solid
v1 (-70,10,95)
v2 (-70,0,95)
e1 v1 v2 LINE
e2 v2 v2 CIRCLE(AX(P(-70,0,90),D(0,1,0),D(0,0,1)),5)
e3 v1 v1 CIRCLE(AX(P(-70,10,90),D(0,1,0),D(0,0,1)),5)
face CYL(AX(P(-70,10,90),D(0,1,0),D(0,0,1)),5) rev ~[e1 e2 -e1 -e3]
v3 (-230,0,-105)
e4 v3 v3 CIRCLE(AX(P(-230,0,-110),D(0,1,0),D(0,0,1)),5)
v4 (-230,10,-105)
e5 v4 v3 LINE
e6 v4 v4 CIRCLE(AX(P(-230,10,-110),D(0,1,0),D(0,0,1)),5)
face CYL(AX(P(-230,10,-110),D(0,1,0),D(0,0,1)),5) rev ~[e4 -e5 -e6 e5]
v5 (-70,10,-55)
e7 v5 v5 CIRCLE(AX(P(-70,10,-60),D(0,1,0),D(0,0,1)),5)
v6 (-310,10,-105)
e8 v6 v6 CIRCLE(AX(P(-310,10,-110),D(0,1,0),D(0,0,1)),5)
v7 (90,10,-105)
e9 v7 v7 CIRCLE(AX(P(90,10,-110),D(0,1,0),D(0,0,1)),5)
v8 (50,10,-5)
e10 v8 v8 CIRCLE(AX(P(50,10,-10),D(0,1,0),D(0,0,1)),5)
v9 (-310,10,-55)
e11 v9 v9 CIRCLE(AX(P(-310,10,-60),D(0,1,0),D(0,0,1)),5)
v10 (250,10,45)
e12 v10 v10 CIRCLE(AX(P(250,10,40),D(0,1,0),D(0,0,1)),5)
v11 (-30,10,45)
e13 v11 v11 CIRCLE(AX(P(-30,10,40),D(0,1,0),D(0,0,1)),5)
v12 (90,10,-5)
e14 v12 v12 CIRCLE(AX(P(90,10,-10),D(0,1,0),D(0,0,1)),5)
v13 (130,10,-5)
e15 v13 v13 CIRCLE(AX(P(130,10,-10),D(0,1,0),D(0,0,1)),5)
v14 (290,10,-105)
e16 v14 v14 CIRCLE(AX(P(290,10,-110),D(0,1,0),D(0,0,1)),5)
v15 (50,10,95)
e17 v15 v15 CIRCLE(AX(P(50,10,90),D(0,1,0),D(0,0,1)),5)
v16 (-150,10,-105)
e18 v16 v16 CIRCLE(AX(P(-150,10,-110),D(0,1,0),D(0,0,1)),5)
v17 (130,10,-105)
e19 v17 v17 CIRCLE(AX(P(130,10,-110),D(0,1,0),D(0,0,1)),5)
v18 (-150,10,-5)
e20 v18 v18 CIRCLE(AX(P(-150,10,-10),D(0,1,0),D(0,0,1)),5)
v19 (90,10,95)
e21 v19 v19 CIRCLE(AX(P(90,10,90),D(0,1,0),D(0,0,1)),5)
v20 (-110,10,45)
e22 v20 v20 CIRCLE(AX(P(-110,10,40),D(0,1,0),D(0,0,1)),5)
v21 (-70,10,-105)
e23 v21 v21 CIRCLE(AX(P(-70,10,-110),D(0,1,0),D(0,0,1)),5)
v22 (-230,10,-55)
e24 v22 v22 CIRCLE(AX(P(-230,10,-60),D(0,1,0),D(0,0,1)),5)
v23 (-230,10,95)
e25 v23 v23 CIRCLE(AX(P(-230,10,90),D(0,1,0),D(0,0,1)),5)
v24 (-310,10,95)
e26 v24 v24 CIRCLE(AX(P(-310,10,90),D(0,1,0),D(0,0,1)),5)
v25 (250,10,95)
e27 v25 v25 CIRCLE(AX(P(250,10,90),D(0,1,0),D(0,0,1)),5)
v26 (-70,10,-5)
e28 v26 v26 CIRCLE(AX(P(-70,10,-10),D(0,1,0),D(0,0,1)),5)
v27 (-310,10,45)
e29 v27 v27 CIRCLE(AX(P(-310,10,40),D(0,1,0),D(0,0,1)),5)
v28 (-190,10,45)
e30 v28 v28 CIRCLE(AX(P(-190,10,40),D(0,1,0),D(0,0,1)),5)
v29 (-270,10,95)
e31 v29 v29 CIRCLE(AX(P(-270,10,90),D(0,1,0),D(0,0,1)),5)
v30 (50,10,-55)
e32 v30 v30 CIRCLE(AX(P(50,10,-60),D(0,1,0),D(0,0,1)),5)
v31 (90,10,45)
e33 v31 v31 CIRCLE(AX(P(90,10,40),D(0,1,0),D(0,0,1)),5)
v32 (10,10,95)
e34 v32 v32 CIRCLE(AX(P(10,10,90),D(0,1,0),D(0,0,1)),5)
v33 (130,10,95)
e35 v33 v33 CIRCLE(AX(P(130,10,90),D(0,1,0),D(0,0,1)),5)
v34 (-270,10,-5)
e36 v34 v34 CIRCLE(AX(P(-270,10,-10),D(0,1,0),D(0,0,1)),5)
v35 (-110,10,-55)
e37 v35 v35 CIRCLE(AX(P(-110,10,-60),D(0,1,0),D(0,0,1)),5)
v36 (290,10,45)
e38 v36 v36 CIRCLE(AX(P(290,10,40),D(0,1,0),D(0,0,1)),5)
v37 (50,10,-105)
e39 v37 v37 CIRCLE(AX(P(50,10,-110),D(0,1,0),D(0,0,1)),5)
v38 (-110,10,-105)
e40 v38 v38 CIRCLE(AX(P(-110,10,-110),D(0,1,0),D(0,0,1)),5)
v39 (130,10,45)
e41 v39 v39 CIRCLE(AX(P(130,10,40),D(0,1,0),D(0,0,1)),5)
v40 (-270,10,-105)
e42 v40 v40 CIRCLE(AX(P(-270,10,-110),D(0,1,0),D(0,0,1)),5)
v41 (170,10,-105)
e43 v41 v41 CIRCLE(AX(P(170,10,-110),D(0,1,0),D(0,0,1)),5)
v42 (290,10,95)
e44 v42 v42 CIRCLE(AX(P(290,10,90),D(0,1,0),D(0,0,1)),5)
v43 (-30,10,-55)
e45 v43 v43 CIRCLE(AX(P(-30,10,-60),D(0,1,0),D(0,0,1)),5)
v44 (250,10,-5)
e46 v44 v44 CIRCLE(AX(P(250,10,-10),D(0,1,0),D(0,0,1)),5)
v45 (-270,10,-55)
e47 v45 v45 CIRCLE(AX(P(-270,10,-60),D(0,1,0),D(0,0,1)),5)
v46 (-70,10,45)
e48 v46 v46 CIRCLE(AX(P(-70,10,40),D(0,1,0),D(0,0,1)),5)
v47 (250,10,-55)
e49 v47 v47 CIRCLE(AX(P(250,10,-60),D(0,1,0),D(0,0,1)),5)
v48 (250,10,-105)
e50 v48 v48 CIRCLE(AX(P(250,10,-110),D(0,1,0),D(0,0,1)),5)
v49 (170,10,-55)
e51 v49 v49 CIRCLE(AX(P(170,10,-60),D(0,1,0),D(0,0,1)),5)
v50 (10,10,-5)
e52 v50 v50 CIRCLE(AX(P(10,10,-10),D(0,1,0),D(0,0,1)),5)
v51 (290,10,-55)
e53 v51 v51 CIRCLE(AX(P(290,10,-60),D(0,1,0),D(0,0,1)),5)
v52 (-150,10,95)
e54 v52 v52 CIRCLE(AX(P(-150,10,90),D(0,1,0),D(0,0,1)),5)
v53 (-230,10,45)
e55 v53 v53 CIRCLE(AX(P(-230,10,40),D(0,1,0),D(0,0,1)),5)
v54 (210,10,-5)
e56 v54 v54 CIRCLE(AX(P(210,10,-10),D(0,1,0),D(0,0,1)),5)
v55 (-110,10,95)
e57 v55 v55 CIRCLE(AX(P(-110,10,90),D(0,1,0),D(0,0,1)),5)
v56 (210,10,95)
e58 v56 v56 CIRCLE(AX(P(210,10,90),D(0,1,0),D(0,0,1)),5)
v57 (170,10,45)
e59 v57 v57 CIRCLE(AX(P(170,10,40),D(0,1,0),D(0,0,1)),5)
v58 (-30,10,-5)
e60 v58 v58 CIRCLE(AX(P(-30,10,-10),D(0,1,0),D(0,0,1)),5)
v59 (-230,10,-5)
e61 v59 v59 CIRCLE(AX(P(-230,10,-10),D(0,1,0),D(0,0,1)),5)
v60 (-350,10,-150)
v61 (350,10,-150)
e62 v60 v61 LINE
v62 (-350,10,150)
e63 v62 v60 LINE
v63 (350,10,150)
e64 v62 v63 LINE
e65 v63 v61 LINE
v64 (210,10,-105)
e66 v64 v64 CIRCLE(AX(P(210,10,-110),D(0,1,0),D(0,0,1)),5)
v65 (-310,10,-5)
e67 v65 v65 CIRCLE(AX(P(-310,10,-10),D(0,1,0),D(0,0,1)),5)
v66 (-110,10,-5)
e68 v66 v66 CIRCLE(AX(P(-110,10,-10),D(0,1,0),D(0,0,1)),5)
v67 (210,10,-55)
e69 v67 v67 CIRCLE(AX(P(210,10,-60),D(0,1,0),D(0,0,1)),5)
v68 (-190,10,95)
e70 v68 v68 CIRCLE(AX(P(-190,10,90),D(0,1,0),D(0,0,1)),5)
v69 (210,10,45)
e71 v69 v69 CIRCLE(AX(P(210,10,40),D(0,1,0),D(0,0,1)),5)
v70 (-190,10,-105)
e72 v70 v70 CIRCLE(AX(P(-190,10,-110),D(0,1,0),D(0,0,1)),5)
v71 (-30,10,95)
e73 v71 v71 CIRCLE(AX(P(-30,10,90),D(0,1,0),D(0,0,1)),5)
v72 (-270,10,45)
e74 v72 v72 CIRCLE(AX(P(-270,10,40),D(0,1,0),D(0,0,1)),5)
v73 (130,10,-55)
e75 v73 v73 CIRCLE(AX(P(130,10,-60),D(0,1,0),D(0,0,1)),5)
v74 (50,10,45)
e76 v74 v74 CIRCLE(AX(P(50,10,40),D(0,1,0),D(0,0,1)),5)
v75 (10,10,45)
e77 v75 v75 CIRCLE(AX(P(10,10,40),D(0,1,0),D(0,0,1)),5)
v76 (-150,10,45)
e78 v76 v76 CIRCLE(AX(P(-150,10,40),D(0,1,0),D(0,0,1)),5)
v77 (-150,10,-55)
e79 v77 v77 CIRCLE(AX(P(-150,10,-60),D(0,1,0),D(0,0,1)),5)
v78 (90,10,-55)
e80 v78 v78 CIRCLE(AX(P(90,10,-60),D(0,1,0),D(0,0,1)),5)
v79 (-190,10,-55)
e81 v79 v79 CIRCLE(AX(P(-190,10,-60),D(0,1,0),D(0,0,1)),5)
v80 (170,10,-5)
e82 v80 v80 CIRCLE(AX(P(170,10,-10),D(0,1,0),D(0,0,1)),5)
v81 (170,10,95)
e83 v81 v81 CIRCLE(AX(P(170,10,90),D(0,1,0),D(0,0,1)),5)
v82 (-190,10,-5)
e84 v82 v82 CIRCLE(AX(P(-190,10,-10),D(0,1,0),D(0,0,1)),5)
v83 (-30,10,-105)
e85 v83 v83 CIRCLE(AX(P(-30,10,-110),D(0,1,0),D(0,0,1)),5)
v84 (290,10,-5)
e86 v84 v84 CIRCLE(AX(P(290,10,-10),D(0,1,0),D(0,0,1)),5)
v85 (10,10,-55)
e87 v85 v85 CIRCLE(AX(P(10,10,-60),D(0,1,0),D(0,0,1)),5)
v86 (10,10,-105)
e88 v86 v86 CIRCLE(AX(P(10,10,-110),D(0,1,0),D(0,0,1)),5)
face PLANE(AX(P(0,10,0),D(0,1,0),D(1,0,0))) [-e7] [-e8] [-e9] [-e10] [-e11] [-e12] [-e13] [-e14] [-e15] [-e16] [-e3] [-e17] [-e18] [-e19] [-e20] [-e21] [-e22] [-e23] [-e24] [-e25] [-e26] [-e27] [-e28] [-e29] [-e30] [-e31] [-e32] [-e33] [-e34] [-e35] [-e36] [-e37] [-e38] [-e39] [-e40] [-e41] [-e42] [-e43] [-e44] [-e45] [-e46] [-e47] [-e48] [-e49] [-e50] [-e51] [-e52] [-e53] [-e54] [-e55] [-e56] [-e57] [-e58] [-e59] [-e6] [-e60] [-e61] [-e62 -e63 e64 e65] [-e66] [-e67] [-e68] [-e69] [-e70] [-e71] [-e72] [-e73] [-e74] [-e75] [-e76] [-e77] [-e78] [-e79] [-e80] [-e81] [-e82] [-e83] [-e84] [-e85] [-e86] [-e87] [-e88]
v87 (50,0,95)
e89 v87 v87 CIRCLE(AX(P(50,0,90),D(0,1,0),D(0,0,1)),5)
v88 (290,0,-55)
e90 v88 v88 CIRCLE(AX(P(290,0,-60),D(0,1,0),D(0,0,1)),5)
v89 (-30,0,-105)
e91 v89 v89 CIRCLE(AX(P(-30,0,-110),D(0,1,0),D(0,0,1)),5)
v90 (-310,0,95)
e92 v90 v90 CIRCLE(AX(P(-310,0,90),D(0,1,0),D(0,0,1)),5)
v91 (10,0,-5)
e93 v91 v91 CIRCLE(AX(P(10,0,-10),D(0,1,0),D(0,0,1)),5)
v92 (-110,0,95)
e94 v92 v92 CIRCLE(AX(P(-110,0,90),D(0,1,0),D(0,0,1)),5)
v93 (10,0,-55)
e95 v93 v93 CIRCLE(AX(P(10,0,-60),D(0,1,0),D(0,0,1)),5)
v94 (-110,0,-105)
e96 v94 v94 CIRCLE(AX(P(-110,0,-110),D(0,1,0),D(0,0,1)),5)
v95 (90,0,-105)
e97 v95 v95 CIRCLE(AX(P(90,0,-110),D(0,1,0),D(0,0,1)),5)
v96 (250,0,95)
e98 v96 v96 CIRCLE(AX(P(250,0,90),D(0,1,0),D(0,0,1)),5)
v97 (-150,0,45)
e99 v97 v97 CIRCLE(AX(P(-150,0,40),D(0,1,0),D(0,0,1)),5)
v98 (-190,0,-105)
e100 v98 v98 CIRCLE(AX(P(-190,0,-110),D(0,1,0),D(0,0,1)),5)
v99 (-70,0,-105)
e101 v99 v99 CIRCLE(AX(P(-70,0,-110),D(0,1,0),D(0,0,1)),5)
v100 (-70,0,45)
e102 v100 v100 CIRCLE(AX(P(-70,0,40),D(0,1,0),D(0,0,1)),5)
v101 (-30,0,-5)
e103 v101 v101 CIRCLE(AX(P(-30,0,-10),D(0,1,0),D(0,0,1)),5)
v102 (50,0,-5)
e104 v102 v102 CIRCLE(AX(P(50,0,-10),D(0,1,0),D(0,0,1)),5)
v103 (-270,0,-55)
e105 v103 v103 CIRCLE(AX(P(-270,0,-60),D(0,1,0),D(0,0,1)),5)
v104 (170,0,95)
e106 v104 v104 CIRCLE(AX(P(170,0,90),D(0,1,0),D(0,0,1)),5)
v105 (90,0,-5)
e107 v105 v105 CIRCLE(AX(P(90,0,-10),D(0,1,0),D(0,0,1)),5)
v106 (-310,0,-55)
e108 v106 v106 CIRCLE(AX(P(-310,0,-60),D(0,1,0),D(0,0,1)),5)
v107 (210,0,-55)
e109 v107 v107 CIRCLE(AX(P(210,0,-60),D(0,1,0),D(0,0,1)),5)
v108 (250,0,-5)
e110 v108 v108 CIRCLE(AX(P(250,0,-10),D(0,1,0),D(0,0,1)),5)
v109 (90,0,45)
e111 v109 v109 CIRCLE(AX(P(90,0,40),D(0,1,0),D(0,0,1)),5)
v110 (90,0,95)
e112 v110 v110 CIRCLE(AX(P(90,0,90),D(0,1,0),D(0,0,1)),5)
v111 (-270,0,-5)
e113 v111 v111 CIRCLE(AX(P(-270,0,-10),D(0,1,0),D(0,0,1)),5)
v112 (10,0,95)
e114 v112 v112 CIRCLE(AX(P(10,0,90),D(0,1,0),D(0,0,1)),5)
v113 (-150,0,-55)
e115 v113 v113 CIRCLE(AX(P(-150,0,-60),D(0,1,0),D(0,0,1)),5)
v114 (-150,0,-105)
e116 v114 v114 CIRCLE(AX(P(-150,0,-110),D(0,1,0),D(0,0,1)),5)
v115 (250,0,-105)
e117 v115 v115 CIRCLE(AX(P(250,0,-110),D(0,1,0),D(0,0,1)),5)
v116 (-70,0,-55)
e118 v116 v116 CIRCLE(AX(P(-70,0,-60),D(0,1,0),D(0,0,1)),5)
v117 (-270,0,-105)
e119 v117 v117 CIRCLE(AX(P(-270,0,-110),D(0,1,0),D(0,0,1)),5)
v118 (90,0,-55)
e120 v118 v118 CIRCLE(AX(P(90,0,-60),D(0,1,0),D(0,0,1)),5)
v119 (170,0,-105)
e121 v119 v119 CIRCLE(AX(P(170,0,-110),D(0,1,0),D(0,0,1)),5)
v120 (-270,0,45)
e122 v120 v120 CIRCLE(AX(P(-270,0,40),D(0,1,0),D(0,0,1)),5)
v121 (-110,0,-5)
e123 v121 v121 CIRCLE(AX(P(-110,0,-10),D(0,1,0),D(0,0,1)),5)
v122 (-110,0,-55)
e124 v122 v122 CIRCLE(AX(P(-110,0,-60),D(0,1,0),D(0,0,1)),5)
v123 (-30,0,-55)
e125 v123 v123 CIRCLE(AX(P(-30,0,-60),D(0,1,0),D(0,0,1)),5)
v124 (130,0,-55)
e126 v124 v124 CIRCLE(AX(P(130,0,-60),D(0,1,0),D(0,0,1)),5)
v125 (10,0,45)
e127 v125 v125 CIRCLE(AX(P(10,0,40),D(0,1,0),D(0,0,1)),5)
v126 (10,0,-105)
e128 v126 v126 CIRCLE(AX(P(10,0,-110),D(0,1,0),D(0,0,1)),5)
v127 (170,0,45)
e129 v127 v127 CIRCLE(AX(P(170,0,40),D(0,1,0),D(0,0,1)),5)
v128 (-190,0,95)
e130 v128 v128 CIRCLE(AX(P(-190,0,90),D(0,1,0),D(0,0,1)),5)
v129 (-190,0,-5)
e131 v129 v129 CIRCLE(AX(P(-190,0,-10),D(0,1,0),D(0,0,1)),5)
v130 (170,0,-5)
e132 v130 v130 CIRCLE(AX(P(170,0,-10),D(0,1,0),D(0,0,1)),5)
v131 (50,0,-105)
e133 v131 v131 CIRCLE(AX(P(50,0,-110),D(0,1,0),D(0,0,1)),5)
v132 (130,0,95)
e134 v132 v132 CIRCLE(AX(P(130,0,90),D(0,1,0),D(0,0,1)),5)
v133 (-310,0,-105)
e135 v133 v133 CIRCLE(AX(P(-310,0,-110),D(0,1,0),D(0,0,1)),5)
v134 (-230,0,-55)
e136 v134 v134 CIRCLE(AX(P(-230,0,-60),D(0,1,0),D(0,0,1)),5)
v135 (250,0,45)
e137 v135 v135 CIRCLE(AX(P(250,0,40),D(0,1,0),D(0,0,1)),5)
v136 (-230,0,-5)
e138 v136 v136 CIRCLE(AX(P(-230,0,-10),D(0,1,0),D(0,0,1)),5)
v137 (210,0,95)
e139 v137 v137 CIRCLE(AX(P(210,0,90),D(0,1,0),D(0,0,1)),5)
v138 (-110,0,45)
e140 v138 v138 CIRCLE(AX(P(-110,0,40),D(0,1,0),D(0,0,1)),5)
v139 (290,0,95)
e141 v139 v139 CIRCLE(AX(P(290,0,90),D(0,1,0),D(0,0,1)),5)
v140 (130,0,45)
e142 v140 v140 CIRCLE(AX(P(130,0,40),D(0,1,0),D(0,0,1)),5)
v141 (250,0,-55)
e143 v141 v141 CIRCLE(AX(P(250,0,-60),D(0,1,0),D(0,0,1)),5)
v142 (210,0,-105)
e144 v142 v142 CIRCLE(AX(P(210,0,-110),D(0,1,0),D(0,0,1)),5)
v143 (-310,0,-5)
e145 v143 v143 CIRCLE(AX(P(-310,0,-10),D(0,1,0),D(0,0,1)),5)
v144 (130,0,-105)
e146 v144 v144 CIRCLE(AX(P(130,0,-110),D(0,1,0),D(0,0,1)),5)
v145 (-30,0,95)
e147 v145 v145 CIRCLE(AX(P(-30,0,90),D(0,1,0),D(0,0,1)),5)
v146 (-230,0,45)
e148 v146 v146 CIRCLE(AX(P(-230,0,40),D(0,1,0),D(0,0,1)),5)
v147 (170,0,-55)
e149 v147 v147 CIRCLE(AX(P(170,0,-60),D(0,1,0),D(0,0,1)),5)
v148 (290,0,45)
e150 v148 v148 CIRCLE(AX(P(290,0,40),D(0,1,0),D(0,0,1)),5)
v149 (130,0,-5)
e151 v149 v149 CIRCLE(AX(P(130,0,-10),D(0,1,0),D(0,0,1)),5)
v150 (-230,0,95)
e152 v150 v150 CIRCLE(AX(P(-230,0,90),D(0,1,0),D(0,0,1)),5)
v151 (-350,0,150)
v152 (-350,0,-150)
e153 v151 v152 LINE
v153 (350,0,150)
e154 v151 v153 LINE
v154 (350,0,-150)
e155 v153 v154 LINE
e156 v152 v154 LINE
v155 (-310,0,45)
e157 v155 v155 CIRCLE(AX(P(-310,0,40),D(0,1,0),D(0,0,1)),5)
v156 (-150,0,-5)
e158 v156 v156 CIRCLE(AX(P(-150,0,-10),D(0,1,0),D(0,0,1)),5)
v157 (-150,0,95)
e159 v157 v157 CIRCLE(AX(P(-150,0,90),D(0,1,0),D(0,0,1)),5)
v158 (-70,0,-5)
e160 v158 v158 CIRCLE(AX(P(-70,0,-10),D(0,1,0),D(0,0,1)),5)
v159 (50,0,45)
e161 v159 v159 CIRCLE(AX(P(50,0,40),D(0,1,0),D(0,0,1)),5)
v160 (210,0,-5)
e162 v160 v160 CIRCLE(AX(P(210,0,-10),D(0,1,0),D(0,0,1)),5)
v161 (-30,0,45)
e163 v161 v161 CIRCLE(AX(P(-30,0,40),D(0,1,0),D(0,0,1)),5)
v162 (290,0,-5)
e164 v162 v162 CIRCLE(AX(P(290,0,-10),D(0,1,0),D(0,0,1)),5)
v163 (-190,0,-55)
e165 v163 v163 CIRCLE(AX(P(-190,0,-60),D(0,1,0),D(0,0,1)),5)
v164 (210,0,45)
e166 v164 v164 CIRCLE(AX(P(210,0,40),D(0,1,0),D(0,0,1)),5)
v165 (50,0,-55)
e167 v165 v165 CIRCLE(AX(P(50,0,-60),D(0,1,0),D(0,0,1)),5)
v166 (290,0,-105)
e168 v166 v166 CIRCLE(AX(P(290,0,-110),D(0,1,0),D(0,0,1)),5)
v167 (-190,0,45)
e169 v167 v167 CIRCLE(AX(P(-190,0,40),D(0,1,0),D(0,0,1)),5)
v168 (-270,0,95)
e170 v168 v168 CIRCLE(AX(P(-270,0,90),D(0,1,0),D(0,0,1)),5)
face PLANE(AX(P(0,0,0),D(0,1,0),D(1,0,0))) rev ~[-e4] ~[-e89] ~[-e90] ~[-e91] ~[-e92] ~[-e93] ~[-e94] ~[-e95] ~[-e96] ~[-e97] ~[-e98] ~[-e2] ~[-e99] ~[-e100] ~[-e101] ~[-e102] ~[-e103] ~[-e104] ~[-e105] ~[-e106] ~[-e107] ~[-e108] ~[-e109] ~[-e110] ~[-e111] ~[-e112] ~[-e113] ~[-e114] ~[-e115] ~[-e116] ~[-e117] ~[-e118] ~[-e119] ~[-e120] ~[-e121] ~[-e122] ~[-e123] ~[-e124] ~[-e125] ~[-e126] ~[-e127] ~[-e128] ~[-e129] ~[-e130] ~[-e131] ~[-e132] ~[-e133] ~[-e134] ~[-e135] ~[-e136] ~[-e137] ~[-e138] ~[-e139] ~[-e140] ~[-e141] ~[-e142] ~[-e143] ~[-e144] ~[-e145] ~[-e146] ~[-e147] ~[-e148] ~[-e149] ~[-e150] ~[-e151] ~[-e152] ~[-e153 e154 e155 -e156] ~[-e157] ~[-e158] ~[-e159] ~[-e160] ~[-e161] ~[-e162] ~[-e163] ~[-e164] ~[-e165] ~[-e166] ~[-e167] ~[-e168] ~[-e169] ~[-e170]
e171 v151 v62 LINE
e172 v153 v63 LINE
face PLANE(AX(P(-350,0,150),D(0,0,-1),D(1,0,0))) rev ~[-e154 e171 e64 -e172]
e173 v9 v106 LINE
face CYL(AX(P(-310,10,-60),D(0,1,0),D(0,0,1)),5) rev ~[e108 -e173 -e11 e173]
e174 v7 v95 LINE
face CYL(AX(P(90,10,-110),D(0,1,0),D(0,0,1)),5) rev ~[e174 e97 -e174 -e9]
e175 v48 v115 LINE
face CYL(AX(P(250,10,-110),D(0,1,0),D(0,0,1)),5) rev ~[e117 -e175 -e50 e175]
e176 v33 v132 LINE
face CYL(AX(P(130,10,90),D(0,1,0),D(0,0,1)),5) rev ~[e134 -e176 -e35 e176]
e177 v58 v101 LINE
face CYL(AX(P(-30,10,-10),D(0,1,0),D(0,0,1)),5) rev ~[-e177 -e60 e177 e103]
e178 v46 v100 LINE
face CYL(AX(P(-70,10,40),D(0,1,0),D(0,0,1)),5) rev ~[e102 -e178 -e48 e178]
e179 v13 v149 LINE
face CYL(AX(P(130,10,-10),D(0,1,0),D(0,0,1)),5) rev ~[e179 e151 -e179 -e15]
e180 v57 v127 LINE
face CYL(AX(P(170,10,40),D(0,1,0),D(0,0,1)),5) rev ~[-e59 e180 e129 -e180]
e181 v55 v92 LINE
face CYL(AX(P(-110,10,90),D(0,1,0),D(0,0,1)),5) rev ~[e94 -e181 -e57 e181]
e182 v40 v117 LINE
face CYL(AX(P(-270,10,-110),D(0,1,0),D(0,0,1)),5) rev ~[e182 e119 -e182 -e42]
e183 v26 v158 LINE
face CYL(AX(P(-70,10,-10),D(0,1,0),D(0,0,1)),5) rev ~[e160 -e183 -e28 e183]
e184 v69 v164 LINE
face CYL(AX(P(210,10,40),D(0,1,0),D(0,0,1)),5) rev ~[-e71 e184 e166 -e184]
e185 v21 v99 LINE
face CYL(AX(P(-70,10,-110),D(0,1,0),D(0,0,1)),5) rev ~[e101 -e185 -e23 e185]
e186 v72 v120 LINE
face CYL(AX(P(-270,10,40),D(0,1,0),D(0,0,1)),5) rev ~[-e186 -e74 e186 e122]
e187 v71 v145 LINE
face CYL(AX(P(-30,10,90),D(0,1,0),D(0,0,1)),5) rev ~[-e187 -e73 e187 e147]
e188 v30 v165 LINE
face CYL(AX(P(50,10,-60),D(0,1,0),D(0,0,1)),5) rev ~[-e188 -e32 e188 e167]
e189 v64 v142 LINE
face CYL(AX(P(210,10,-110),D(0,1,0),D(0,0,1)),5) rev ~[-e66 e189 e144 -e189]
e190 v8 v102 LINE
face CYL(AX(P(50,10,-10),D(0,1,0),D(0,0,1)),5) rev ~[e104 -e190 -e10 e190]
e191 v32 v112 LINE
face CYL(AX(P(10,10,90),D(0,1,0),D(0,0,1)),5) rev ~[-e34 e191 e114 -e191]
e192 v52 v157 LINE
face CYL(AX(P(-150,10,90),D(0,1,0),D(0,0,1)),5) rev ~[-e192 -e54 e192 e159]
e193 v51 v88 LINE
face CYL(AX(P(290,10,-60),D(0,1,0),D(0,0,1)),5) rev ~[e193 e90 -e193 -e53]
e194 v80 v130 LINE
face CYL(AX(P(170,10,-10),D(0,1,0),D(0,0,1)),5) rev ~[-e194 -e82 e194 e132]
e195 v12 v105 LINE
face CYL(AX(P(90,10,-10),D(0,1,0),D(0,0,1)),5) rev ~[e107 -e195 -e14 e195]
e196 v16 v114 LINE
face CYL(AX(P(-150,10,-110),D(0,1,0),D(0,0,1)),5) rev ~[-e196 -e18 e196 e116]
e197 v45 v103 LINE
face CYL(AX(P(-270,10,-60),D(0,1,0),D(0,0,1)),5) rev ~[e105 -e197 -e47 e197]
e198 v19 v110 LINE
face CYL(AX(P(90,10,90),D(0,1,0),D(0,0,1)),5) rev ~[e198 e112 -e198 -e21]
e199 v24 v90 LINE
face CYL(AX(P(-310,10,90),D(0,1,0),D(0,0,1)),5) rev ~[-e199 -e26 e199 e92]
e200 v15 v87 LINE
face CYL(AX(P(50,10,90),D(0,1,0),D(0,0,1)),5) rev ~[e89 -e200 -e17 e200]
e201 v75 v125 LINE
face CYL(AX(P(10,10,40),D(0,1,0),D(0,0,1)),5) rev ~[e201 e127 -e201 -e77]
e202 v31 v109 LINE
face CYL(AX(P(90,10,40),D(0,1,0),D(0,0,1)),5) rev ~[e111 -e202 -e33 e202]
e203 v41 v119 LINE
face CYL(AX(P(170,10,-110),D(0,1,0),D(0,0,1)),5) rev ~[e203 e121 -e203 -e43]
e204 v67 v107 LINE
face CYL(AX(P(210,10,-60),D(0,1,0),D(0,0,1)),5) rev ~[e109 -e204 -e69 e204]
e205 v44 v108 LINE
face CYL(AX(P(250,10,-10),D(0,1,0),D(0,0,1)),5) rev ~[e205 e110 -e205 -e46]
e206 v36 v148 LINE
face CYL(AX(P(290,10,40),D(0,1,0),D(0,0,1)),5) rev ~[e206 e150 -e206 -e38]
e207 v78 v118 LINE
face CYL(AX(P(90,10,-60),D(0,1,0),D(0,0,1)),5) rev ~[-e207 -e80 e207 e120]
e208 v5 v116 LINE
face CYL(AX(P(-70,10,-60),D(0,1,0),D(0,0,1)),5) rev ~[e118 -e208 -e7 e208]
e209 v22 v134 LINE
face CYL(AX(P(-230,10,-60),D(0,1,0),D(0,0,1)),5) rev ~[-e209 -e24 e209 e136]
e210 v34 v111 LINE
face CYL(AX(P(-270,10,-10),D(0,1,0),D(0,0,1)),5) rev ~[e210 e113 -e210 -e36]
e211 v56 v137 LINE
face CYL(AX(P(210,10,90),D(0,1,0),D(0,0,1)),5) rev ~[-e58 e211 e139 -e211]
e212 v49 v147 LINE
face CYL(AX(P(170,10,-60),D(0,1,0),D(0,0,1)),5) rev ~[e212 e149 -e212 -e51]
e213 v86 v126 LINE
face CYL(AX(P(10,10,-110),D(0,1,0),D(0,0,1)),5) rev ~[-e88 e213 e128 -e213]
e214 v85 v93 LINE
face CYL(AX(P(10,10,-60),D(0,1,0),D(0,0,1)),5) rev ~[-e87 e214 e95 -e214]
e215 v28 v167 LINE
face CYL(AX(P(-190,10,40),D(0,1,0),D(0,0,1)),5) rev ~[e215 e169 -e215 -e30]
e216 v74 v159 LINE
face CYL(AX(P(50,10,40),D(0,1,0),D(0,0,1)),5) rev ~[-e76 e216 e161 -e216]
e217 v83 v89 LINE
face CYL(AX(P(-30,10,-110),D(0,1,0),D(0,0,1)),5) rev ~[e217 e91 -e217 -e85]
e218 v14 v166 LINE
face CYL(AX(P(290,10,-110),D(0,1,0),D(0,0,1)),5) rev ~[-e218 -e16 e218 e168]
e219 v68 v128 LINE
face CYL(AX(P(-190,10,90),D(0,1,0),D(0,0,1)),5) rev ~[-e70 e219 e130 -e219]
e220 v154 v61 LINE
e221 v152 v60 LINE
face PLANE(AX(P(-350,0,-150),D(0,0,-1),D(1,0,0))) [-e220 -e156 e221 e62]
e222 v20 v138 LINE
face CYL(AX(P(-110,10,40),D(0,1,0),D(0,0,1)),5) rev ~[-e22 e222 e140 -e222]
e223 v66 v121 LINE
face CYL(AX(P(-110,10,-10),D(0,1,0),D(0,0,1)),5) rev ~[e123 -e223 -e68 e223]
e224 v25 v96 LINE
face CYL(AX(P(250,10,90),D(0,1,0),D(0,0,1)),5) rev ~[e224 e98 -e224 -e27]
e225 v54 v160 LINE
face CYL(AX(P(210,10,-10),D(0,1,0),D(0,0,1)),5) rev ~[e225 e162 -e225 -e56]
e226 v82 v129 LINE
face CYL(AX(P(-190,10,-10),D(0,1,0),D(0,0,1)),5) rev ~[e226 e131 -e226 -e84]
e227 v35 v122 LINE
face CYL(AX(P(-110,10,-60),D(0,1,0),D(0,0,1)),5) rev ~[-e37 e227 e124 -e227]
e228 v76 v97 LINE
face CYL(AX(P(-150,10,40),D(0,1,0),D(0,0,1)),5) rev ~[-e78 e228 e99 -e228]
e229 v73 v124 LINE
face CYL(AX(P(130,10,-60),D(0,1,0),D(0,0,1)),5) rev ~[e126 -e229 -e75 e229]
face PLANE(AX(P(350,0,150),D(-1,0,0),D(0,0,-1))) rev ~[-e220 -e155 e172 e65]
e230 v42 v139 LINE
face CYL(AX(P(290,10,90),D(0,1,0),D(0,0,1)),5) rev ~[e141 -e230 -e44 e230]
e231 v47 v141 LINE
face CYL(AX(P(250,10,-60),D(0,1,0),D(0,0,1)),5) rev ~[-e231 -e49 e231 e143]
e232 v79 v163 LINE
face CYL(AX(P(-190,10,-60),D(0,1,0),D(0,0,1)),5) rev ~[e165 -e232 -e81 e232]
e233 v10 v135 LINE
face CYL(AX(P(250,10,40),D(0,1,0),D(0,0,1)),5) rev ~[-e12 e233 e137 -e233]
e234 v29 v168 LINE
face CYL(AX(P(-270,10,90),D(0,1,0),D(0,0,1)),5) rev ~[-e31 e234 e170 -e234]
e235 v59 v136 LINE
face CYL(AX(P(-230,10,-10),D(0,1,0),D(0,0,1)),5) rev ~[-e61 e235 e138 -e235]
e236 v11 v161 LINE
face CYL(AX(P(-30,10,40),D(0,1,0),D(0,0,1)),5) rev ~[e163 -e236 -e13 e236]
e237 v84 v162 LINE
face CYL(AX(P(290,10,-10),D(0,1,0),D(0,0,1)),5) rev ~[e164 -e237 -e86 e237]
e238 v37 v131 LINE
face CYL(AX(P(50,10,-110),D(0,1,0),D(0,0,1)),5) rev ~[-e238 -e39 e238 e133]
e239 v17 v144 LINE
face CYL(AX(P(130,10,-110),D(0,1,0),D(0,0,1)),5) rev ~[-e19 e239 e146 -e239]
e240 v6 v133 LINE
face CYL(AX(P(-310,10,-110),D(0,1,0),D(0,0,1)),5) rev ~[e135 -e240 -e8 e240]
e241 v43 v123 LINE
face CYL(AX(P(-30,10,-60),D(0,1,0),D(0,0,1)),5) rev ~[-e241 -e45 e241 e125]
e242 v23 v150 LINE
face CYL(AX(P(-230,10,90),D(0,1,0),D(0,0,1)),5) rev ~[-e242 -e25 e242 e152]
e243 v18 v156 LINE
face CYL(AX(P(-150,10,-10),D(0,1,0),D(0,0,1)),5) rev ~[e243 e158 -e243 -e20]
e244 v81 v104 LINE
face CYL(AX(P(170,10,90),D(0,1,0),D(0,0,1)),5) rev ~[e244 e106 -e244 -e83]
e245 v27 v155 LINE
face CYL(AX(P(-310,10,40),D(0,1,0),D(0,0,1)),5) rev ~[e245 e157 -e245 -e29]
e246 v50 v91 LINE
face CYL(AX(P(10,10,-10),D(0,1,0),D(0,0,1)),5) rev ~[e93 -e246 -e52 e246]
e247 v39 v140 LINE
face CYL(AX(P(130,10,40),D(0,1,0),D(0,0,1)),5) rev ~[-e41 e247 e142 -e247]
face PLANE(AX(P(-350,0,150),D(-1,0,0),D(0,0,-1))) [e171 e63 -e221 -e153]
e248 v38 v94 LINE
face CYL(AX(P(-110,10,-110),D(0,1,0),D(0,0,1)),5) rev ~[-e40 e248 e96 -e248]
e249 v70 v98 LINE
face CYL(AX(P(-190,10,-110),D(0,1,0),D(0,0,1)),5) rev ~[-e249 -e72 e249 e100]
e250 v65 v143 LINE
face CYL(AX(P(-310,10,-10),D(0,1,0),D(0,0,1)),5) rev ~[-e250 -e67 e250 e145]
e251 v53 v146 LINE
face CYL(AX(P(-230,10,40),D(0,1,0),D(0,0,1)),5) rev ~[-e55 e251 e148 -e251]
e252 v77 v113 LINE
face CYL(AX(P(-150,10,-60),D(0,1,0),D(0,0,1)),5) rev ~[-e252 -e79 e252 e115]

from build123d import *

# Parameters (mm, degrees)
CROQUIS1_W              = 700
CROQUIS1_H              = 300
SALIENTE_EXTRUIR1_DEPTH = 10
CROQUIS2_R              = 5
CORTAR_EXTRUIR1_DEPTH   = 10
MATRIZL1_COUNT          = 16
MATRIZL1_PITCH          = 40
MATRIZL1_COUNT_DIR2     = 5
MATRIZL1_PITCH_DIR2     = 50


with BuildPart() as part:
    # Croquis1 → Saliente-Extruir1 (new body)
    with BuildSketch(Plane(origin=(0, 0, 0), x_dir=(1, 0, 0), z_dir=(0, 1, 0))):
        Rectangle(CROQUIS1_W, CROQUIS1_H)
    extrude(amount=SALIENTE_EXTRUIR1_DEPTH)

    # Croquis2 → Cortar-Extruir1 (cut)
    with BuildSketch(Plane(origin=(0, 10, 0), x_dir=(1, 0, 0), z_dir=(0, 1, 0))):
        with Locations(Location((-310, 110, 0), (0, 0, 270))):
            Circle(CROQUIS2_R)
    cortar_extruir1 = extrude(amount=-CORTAR_EXTRUIR1_DEPTH, mode=Mode.SUBTRACT)

    # MatrizL1: Cortar-Extruir1 16 × 5
    with Locations(*[(i * MATRIZL1_PITCH, 0, j * MATRIZL1_PITCH_DIR2) for i in range(MATRIZL1_COUNT) for j in range(MATRIZL1_COUNT_DIR2) if (i, j) != (0, 0)]):
        add(cortar_extruir1, mode=Mode.SUBTRACT)


solid = part.part
